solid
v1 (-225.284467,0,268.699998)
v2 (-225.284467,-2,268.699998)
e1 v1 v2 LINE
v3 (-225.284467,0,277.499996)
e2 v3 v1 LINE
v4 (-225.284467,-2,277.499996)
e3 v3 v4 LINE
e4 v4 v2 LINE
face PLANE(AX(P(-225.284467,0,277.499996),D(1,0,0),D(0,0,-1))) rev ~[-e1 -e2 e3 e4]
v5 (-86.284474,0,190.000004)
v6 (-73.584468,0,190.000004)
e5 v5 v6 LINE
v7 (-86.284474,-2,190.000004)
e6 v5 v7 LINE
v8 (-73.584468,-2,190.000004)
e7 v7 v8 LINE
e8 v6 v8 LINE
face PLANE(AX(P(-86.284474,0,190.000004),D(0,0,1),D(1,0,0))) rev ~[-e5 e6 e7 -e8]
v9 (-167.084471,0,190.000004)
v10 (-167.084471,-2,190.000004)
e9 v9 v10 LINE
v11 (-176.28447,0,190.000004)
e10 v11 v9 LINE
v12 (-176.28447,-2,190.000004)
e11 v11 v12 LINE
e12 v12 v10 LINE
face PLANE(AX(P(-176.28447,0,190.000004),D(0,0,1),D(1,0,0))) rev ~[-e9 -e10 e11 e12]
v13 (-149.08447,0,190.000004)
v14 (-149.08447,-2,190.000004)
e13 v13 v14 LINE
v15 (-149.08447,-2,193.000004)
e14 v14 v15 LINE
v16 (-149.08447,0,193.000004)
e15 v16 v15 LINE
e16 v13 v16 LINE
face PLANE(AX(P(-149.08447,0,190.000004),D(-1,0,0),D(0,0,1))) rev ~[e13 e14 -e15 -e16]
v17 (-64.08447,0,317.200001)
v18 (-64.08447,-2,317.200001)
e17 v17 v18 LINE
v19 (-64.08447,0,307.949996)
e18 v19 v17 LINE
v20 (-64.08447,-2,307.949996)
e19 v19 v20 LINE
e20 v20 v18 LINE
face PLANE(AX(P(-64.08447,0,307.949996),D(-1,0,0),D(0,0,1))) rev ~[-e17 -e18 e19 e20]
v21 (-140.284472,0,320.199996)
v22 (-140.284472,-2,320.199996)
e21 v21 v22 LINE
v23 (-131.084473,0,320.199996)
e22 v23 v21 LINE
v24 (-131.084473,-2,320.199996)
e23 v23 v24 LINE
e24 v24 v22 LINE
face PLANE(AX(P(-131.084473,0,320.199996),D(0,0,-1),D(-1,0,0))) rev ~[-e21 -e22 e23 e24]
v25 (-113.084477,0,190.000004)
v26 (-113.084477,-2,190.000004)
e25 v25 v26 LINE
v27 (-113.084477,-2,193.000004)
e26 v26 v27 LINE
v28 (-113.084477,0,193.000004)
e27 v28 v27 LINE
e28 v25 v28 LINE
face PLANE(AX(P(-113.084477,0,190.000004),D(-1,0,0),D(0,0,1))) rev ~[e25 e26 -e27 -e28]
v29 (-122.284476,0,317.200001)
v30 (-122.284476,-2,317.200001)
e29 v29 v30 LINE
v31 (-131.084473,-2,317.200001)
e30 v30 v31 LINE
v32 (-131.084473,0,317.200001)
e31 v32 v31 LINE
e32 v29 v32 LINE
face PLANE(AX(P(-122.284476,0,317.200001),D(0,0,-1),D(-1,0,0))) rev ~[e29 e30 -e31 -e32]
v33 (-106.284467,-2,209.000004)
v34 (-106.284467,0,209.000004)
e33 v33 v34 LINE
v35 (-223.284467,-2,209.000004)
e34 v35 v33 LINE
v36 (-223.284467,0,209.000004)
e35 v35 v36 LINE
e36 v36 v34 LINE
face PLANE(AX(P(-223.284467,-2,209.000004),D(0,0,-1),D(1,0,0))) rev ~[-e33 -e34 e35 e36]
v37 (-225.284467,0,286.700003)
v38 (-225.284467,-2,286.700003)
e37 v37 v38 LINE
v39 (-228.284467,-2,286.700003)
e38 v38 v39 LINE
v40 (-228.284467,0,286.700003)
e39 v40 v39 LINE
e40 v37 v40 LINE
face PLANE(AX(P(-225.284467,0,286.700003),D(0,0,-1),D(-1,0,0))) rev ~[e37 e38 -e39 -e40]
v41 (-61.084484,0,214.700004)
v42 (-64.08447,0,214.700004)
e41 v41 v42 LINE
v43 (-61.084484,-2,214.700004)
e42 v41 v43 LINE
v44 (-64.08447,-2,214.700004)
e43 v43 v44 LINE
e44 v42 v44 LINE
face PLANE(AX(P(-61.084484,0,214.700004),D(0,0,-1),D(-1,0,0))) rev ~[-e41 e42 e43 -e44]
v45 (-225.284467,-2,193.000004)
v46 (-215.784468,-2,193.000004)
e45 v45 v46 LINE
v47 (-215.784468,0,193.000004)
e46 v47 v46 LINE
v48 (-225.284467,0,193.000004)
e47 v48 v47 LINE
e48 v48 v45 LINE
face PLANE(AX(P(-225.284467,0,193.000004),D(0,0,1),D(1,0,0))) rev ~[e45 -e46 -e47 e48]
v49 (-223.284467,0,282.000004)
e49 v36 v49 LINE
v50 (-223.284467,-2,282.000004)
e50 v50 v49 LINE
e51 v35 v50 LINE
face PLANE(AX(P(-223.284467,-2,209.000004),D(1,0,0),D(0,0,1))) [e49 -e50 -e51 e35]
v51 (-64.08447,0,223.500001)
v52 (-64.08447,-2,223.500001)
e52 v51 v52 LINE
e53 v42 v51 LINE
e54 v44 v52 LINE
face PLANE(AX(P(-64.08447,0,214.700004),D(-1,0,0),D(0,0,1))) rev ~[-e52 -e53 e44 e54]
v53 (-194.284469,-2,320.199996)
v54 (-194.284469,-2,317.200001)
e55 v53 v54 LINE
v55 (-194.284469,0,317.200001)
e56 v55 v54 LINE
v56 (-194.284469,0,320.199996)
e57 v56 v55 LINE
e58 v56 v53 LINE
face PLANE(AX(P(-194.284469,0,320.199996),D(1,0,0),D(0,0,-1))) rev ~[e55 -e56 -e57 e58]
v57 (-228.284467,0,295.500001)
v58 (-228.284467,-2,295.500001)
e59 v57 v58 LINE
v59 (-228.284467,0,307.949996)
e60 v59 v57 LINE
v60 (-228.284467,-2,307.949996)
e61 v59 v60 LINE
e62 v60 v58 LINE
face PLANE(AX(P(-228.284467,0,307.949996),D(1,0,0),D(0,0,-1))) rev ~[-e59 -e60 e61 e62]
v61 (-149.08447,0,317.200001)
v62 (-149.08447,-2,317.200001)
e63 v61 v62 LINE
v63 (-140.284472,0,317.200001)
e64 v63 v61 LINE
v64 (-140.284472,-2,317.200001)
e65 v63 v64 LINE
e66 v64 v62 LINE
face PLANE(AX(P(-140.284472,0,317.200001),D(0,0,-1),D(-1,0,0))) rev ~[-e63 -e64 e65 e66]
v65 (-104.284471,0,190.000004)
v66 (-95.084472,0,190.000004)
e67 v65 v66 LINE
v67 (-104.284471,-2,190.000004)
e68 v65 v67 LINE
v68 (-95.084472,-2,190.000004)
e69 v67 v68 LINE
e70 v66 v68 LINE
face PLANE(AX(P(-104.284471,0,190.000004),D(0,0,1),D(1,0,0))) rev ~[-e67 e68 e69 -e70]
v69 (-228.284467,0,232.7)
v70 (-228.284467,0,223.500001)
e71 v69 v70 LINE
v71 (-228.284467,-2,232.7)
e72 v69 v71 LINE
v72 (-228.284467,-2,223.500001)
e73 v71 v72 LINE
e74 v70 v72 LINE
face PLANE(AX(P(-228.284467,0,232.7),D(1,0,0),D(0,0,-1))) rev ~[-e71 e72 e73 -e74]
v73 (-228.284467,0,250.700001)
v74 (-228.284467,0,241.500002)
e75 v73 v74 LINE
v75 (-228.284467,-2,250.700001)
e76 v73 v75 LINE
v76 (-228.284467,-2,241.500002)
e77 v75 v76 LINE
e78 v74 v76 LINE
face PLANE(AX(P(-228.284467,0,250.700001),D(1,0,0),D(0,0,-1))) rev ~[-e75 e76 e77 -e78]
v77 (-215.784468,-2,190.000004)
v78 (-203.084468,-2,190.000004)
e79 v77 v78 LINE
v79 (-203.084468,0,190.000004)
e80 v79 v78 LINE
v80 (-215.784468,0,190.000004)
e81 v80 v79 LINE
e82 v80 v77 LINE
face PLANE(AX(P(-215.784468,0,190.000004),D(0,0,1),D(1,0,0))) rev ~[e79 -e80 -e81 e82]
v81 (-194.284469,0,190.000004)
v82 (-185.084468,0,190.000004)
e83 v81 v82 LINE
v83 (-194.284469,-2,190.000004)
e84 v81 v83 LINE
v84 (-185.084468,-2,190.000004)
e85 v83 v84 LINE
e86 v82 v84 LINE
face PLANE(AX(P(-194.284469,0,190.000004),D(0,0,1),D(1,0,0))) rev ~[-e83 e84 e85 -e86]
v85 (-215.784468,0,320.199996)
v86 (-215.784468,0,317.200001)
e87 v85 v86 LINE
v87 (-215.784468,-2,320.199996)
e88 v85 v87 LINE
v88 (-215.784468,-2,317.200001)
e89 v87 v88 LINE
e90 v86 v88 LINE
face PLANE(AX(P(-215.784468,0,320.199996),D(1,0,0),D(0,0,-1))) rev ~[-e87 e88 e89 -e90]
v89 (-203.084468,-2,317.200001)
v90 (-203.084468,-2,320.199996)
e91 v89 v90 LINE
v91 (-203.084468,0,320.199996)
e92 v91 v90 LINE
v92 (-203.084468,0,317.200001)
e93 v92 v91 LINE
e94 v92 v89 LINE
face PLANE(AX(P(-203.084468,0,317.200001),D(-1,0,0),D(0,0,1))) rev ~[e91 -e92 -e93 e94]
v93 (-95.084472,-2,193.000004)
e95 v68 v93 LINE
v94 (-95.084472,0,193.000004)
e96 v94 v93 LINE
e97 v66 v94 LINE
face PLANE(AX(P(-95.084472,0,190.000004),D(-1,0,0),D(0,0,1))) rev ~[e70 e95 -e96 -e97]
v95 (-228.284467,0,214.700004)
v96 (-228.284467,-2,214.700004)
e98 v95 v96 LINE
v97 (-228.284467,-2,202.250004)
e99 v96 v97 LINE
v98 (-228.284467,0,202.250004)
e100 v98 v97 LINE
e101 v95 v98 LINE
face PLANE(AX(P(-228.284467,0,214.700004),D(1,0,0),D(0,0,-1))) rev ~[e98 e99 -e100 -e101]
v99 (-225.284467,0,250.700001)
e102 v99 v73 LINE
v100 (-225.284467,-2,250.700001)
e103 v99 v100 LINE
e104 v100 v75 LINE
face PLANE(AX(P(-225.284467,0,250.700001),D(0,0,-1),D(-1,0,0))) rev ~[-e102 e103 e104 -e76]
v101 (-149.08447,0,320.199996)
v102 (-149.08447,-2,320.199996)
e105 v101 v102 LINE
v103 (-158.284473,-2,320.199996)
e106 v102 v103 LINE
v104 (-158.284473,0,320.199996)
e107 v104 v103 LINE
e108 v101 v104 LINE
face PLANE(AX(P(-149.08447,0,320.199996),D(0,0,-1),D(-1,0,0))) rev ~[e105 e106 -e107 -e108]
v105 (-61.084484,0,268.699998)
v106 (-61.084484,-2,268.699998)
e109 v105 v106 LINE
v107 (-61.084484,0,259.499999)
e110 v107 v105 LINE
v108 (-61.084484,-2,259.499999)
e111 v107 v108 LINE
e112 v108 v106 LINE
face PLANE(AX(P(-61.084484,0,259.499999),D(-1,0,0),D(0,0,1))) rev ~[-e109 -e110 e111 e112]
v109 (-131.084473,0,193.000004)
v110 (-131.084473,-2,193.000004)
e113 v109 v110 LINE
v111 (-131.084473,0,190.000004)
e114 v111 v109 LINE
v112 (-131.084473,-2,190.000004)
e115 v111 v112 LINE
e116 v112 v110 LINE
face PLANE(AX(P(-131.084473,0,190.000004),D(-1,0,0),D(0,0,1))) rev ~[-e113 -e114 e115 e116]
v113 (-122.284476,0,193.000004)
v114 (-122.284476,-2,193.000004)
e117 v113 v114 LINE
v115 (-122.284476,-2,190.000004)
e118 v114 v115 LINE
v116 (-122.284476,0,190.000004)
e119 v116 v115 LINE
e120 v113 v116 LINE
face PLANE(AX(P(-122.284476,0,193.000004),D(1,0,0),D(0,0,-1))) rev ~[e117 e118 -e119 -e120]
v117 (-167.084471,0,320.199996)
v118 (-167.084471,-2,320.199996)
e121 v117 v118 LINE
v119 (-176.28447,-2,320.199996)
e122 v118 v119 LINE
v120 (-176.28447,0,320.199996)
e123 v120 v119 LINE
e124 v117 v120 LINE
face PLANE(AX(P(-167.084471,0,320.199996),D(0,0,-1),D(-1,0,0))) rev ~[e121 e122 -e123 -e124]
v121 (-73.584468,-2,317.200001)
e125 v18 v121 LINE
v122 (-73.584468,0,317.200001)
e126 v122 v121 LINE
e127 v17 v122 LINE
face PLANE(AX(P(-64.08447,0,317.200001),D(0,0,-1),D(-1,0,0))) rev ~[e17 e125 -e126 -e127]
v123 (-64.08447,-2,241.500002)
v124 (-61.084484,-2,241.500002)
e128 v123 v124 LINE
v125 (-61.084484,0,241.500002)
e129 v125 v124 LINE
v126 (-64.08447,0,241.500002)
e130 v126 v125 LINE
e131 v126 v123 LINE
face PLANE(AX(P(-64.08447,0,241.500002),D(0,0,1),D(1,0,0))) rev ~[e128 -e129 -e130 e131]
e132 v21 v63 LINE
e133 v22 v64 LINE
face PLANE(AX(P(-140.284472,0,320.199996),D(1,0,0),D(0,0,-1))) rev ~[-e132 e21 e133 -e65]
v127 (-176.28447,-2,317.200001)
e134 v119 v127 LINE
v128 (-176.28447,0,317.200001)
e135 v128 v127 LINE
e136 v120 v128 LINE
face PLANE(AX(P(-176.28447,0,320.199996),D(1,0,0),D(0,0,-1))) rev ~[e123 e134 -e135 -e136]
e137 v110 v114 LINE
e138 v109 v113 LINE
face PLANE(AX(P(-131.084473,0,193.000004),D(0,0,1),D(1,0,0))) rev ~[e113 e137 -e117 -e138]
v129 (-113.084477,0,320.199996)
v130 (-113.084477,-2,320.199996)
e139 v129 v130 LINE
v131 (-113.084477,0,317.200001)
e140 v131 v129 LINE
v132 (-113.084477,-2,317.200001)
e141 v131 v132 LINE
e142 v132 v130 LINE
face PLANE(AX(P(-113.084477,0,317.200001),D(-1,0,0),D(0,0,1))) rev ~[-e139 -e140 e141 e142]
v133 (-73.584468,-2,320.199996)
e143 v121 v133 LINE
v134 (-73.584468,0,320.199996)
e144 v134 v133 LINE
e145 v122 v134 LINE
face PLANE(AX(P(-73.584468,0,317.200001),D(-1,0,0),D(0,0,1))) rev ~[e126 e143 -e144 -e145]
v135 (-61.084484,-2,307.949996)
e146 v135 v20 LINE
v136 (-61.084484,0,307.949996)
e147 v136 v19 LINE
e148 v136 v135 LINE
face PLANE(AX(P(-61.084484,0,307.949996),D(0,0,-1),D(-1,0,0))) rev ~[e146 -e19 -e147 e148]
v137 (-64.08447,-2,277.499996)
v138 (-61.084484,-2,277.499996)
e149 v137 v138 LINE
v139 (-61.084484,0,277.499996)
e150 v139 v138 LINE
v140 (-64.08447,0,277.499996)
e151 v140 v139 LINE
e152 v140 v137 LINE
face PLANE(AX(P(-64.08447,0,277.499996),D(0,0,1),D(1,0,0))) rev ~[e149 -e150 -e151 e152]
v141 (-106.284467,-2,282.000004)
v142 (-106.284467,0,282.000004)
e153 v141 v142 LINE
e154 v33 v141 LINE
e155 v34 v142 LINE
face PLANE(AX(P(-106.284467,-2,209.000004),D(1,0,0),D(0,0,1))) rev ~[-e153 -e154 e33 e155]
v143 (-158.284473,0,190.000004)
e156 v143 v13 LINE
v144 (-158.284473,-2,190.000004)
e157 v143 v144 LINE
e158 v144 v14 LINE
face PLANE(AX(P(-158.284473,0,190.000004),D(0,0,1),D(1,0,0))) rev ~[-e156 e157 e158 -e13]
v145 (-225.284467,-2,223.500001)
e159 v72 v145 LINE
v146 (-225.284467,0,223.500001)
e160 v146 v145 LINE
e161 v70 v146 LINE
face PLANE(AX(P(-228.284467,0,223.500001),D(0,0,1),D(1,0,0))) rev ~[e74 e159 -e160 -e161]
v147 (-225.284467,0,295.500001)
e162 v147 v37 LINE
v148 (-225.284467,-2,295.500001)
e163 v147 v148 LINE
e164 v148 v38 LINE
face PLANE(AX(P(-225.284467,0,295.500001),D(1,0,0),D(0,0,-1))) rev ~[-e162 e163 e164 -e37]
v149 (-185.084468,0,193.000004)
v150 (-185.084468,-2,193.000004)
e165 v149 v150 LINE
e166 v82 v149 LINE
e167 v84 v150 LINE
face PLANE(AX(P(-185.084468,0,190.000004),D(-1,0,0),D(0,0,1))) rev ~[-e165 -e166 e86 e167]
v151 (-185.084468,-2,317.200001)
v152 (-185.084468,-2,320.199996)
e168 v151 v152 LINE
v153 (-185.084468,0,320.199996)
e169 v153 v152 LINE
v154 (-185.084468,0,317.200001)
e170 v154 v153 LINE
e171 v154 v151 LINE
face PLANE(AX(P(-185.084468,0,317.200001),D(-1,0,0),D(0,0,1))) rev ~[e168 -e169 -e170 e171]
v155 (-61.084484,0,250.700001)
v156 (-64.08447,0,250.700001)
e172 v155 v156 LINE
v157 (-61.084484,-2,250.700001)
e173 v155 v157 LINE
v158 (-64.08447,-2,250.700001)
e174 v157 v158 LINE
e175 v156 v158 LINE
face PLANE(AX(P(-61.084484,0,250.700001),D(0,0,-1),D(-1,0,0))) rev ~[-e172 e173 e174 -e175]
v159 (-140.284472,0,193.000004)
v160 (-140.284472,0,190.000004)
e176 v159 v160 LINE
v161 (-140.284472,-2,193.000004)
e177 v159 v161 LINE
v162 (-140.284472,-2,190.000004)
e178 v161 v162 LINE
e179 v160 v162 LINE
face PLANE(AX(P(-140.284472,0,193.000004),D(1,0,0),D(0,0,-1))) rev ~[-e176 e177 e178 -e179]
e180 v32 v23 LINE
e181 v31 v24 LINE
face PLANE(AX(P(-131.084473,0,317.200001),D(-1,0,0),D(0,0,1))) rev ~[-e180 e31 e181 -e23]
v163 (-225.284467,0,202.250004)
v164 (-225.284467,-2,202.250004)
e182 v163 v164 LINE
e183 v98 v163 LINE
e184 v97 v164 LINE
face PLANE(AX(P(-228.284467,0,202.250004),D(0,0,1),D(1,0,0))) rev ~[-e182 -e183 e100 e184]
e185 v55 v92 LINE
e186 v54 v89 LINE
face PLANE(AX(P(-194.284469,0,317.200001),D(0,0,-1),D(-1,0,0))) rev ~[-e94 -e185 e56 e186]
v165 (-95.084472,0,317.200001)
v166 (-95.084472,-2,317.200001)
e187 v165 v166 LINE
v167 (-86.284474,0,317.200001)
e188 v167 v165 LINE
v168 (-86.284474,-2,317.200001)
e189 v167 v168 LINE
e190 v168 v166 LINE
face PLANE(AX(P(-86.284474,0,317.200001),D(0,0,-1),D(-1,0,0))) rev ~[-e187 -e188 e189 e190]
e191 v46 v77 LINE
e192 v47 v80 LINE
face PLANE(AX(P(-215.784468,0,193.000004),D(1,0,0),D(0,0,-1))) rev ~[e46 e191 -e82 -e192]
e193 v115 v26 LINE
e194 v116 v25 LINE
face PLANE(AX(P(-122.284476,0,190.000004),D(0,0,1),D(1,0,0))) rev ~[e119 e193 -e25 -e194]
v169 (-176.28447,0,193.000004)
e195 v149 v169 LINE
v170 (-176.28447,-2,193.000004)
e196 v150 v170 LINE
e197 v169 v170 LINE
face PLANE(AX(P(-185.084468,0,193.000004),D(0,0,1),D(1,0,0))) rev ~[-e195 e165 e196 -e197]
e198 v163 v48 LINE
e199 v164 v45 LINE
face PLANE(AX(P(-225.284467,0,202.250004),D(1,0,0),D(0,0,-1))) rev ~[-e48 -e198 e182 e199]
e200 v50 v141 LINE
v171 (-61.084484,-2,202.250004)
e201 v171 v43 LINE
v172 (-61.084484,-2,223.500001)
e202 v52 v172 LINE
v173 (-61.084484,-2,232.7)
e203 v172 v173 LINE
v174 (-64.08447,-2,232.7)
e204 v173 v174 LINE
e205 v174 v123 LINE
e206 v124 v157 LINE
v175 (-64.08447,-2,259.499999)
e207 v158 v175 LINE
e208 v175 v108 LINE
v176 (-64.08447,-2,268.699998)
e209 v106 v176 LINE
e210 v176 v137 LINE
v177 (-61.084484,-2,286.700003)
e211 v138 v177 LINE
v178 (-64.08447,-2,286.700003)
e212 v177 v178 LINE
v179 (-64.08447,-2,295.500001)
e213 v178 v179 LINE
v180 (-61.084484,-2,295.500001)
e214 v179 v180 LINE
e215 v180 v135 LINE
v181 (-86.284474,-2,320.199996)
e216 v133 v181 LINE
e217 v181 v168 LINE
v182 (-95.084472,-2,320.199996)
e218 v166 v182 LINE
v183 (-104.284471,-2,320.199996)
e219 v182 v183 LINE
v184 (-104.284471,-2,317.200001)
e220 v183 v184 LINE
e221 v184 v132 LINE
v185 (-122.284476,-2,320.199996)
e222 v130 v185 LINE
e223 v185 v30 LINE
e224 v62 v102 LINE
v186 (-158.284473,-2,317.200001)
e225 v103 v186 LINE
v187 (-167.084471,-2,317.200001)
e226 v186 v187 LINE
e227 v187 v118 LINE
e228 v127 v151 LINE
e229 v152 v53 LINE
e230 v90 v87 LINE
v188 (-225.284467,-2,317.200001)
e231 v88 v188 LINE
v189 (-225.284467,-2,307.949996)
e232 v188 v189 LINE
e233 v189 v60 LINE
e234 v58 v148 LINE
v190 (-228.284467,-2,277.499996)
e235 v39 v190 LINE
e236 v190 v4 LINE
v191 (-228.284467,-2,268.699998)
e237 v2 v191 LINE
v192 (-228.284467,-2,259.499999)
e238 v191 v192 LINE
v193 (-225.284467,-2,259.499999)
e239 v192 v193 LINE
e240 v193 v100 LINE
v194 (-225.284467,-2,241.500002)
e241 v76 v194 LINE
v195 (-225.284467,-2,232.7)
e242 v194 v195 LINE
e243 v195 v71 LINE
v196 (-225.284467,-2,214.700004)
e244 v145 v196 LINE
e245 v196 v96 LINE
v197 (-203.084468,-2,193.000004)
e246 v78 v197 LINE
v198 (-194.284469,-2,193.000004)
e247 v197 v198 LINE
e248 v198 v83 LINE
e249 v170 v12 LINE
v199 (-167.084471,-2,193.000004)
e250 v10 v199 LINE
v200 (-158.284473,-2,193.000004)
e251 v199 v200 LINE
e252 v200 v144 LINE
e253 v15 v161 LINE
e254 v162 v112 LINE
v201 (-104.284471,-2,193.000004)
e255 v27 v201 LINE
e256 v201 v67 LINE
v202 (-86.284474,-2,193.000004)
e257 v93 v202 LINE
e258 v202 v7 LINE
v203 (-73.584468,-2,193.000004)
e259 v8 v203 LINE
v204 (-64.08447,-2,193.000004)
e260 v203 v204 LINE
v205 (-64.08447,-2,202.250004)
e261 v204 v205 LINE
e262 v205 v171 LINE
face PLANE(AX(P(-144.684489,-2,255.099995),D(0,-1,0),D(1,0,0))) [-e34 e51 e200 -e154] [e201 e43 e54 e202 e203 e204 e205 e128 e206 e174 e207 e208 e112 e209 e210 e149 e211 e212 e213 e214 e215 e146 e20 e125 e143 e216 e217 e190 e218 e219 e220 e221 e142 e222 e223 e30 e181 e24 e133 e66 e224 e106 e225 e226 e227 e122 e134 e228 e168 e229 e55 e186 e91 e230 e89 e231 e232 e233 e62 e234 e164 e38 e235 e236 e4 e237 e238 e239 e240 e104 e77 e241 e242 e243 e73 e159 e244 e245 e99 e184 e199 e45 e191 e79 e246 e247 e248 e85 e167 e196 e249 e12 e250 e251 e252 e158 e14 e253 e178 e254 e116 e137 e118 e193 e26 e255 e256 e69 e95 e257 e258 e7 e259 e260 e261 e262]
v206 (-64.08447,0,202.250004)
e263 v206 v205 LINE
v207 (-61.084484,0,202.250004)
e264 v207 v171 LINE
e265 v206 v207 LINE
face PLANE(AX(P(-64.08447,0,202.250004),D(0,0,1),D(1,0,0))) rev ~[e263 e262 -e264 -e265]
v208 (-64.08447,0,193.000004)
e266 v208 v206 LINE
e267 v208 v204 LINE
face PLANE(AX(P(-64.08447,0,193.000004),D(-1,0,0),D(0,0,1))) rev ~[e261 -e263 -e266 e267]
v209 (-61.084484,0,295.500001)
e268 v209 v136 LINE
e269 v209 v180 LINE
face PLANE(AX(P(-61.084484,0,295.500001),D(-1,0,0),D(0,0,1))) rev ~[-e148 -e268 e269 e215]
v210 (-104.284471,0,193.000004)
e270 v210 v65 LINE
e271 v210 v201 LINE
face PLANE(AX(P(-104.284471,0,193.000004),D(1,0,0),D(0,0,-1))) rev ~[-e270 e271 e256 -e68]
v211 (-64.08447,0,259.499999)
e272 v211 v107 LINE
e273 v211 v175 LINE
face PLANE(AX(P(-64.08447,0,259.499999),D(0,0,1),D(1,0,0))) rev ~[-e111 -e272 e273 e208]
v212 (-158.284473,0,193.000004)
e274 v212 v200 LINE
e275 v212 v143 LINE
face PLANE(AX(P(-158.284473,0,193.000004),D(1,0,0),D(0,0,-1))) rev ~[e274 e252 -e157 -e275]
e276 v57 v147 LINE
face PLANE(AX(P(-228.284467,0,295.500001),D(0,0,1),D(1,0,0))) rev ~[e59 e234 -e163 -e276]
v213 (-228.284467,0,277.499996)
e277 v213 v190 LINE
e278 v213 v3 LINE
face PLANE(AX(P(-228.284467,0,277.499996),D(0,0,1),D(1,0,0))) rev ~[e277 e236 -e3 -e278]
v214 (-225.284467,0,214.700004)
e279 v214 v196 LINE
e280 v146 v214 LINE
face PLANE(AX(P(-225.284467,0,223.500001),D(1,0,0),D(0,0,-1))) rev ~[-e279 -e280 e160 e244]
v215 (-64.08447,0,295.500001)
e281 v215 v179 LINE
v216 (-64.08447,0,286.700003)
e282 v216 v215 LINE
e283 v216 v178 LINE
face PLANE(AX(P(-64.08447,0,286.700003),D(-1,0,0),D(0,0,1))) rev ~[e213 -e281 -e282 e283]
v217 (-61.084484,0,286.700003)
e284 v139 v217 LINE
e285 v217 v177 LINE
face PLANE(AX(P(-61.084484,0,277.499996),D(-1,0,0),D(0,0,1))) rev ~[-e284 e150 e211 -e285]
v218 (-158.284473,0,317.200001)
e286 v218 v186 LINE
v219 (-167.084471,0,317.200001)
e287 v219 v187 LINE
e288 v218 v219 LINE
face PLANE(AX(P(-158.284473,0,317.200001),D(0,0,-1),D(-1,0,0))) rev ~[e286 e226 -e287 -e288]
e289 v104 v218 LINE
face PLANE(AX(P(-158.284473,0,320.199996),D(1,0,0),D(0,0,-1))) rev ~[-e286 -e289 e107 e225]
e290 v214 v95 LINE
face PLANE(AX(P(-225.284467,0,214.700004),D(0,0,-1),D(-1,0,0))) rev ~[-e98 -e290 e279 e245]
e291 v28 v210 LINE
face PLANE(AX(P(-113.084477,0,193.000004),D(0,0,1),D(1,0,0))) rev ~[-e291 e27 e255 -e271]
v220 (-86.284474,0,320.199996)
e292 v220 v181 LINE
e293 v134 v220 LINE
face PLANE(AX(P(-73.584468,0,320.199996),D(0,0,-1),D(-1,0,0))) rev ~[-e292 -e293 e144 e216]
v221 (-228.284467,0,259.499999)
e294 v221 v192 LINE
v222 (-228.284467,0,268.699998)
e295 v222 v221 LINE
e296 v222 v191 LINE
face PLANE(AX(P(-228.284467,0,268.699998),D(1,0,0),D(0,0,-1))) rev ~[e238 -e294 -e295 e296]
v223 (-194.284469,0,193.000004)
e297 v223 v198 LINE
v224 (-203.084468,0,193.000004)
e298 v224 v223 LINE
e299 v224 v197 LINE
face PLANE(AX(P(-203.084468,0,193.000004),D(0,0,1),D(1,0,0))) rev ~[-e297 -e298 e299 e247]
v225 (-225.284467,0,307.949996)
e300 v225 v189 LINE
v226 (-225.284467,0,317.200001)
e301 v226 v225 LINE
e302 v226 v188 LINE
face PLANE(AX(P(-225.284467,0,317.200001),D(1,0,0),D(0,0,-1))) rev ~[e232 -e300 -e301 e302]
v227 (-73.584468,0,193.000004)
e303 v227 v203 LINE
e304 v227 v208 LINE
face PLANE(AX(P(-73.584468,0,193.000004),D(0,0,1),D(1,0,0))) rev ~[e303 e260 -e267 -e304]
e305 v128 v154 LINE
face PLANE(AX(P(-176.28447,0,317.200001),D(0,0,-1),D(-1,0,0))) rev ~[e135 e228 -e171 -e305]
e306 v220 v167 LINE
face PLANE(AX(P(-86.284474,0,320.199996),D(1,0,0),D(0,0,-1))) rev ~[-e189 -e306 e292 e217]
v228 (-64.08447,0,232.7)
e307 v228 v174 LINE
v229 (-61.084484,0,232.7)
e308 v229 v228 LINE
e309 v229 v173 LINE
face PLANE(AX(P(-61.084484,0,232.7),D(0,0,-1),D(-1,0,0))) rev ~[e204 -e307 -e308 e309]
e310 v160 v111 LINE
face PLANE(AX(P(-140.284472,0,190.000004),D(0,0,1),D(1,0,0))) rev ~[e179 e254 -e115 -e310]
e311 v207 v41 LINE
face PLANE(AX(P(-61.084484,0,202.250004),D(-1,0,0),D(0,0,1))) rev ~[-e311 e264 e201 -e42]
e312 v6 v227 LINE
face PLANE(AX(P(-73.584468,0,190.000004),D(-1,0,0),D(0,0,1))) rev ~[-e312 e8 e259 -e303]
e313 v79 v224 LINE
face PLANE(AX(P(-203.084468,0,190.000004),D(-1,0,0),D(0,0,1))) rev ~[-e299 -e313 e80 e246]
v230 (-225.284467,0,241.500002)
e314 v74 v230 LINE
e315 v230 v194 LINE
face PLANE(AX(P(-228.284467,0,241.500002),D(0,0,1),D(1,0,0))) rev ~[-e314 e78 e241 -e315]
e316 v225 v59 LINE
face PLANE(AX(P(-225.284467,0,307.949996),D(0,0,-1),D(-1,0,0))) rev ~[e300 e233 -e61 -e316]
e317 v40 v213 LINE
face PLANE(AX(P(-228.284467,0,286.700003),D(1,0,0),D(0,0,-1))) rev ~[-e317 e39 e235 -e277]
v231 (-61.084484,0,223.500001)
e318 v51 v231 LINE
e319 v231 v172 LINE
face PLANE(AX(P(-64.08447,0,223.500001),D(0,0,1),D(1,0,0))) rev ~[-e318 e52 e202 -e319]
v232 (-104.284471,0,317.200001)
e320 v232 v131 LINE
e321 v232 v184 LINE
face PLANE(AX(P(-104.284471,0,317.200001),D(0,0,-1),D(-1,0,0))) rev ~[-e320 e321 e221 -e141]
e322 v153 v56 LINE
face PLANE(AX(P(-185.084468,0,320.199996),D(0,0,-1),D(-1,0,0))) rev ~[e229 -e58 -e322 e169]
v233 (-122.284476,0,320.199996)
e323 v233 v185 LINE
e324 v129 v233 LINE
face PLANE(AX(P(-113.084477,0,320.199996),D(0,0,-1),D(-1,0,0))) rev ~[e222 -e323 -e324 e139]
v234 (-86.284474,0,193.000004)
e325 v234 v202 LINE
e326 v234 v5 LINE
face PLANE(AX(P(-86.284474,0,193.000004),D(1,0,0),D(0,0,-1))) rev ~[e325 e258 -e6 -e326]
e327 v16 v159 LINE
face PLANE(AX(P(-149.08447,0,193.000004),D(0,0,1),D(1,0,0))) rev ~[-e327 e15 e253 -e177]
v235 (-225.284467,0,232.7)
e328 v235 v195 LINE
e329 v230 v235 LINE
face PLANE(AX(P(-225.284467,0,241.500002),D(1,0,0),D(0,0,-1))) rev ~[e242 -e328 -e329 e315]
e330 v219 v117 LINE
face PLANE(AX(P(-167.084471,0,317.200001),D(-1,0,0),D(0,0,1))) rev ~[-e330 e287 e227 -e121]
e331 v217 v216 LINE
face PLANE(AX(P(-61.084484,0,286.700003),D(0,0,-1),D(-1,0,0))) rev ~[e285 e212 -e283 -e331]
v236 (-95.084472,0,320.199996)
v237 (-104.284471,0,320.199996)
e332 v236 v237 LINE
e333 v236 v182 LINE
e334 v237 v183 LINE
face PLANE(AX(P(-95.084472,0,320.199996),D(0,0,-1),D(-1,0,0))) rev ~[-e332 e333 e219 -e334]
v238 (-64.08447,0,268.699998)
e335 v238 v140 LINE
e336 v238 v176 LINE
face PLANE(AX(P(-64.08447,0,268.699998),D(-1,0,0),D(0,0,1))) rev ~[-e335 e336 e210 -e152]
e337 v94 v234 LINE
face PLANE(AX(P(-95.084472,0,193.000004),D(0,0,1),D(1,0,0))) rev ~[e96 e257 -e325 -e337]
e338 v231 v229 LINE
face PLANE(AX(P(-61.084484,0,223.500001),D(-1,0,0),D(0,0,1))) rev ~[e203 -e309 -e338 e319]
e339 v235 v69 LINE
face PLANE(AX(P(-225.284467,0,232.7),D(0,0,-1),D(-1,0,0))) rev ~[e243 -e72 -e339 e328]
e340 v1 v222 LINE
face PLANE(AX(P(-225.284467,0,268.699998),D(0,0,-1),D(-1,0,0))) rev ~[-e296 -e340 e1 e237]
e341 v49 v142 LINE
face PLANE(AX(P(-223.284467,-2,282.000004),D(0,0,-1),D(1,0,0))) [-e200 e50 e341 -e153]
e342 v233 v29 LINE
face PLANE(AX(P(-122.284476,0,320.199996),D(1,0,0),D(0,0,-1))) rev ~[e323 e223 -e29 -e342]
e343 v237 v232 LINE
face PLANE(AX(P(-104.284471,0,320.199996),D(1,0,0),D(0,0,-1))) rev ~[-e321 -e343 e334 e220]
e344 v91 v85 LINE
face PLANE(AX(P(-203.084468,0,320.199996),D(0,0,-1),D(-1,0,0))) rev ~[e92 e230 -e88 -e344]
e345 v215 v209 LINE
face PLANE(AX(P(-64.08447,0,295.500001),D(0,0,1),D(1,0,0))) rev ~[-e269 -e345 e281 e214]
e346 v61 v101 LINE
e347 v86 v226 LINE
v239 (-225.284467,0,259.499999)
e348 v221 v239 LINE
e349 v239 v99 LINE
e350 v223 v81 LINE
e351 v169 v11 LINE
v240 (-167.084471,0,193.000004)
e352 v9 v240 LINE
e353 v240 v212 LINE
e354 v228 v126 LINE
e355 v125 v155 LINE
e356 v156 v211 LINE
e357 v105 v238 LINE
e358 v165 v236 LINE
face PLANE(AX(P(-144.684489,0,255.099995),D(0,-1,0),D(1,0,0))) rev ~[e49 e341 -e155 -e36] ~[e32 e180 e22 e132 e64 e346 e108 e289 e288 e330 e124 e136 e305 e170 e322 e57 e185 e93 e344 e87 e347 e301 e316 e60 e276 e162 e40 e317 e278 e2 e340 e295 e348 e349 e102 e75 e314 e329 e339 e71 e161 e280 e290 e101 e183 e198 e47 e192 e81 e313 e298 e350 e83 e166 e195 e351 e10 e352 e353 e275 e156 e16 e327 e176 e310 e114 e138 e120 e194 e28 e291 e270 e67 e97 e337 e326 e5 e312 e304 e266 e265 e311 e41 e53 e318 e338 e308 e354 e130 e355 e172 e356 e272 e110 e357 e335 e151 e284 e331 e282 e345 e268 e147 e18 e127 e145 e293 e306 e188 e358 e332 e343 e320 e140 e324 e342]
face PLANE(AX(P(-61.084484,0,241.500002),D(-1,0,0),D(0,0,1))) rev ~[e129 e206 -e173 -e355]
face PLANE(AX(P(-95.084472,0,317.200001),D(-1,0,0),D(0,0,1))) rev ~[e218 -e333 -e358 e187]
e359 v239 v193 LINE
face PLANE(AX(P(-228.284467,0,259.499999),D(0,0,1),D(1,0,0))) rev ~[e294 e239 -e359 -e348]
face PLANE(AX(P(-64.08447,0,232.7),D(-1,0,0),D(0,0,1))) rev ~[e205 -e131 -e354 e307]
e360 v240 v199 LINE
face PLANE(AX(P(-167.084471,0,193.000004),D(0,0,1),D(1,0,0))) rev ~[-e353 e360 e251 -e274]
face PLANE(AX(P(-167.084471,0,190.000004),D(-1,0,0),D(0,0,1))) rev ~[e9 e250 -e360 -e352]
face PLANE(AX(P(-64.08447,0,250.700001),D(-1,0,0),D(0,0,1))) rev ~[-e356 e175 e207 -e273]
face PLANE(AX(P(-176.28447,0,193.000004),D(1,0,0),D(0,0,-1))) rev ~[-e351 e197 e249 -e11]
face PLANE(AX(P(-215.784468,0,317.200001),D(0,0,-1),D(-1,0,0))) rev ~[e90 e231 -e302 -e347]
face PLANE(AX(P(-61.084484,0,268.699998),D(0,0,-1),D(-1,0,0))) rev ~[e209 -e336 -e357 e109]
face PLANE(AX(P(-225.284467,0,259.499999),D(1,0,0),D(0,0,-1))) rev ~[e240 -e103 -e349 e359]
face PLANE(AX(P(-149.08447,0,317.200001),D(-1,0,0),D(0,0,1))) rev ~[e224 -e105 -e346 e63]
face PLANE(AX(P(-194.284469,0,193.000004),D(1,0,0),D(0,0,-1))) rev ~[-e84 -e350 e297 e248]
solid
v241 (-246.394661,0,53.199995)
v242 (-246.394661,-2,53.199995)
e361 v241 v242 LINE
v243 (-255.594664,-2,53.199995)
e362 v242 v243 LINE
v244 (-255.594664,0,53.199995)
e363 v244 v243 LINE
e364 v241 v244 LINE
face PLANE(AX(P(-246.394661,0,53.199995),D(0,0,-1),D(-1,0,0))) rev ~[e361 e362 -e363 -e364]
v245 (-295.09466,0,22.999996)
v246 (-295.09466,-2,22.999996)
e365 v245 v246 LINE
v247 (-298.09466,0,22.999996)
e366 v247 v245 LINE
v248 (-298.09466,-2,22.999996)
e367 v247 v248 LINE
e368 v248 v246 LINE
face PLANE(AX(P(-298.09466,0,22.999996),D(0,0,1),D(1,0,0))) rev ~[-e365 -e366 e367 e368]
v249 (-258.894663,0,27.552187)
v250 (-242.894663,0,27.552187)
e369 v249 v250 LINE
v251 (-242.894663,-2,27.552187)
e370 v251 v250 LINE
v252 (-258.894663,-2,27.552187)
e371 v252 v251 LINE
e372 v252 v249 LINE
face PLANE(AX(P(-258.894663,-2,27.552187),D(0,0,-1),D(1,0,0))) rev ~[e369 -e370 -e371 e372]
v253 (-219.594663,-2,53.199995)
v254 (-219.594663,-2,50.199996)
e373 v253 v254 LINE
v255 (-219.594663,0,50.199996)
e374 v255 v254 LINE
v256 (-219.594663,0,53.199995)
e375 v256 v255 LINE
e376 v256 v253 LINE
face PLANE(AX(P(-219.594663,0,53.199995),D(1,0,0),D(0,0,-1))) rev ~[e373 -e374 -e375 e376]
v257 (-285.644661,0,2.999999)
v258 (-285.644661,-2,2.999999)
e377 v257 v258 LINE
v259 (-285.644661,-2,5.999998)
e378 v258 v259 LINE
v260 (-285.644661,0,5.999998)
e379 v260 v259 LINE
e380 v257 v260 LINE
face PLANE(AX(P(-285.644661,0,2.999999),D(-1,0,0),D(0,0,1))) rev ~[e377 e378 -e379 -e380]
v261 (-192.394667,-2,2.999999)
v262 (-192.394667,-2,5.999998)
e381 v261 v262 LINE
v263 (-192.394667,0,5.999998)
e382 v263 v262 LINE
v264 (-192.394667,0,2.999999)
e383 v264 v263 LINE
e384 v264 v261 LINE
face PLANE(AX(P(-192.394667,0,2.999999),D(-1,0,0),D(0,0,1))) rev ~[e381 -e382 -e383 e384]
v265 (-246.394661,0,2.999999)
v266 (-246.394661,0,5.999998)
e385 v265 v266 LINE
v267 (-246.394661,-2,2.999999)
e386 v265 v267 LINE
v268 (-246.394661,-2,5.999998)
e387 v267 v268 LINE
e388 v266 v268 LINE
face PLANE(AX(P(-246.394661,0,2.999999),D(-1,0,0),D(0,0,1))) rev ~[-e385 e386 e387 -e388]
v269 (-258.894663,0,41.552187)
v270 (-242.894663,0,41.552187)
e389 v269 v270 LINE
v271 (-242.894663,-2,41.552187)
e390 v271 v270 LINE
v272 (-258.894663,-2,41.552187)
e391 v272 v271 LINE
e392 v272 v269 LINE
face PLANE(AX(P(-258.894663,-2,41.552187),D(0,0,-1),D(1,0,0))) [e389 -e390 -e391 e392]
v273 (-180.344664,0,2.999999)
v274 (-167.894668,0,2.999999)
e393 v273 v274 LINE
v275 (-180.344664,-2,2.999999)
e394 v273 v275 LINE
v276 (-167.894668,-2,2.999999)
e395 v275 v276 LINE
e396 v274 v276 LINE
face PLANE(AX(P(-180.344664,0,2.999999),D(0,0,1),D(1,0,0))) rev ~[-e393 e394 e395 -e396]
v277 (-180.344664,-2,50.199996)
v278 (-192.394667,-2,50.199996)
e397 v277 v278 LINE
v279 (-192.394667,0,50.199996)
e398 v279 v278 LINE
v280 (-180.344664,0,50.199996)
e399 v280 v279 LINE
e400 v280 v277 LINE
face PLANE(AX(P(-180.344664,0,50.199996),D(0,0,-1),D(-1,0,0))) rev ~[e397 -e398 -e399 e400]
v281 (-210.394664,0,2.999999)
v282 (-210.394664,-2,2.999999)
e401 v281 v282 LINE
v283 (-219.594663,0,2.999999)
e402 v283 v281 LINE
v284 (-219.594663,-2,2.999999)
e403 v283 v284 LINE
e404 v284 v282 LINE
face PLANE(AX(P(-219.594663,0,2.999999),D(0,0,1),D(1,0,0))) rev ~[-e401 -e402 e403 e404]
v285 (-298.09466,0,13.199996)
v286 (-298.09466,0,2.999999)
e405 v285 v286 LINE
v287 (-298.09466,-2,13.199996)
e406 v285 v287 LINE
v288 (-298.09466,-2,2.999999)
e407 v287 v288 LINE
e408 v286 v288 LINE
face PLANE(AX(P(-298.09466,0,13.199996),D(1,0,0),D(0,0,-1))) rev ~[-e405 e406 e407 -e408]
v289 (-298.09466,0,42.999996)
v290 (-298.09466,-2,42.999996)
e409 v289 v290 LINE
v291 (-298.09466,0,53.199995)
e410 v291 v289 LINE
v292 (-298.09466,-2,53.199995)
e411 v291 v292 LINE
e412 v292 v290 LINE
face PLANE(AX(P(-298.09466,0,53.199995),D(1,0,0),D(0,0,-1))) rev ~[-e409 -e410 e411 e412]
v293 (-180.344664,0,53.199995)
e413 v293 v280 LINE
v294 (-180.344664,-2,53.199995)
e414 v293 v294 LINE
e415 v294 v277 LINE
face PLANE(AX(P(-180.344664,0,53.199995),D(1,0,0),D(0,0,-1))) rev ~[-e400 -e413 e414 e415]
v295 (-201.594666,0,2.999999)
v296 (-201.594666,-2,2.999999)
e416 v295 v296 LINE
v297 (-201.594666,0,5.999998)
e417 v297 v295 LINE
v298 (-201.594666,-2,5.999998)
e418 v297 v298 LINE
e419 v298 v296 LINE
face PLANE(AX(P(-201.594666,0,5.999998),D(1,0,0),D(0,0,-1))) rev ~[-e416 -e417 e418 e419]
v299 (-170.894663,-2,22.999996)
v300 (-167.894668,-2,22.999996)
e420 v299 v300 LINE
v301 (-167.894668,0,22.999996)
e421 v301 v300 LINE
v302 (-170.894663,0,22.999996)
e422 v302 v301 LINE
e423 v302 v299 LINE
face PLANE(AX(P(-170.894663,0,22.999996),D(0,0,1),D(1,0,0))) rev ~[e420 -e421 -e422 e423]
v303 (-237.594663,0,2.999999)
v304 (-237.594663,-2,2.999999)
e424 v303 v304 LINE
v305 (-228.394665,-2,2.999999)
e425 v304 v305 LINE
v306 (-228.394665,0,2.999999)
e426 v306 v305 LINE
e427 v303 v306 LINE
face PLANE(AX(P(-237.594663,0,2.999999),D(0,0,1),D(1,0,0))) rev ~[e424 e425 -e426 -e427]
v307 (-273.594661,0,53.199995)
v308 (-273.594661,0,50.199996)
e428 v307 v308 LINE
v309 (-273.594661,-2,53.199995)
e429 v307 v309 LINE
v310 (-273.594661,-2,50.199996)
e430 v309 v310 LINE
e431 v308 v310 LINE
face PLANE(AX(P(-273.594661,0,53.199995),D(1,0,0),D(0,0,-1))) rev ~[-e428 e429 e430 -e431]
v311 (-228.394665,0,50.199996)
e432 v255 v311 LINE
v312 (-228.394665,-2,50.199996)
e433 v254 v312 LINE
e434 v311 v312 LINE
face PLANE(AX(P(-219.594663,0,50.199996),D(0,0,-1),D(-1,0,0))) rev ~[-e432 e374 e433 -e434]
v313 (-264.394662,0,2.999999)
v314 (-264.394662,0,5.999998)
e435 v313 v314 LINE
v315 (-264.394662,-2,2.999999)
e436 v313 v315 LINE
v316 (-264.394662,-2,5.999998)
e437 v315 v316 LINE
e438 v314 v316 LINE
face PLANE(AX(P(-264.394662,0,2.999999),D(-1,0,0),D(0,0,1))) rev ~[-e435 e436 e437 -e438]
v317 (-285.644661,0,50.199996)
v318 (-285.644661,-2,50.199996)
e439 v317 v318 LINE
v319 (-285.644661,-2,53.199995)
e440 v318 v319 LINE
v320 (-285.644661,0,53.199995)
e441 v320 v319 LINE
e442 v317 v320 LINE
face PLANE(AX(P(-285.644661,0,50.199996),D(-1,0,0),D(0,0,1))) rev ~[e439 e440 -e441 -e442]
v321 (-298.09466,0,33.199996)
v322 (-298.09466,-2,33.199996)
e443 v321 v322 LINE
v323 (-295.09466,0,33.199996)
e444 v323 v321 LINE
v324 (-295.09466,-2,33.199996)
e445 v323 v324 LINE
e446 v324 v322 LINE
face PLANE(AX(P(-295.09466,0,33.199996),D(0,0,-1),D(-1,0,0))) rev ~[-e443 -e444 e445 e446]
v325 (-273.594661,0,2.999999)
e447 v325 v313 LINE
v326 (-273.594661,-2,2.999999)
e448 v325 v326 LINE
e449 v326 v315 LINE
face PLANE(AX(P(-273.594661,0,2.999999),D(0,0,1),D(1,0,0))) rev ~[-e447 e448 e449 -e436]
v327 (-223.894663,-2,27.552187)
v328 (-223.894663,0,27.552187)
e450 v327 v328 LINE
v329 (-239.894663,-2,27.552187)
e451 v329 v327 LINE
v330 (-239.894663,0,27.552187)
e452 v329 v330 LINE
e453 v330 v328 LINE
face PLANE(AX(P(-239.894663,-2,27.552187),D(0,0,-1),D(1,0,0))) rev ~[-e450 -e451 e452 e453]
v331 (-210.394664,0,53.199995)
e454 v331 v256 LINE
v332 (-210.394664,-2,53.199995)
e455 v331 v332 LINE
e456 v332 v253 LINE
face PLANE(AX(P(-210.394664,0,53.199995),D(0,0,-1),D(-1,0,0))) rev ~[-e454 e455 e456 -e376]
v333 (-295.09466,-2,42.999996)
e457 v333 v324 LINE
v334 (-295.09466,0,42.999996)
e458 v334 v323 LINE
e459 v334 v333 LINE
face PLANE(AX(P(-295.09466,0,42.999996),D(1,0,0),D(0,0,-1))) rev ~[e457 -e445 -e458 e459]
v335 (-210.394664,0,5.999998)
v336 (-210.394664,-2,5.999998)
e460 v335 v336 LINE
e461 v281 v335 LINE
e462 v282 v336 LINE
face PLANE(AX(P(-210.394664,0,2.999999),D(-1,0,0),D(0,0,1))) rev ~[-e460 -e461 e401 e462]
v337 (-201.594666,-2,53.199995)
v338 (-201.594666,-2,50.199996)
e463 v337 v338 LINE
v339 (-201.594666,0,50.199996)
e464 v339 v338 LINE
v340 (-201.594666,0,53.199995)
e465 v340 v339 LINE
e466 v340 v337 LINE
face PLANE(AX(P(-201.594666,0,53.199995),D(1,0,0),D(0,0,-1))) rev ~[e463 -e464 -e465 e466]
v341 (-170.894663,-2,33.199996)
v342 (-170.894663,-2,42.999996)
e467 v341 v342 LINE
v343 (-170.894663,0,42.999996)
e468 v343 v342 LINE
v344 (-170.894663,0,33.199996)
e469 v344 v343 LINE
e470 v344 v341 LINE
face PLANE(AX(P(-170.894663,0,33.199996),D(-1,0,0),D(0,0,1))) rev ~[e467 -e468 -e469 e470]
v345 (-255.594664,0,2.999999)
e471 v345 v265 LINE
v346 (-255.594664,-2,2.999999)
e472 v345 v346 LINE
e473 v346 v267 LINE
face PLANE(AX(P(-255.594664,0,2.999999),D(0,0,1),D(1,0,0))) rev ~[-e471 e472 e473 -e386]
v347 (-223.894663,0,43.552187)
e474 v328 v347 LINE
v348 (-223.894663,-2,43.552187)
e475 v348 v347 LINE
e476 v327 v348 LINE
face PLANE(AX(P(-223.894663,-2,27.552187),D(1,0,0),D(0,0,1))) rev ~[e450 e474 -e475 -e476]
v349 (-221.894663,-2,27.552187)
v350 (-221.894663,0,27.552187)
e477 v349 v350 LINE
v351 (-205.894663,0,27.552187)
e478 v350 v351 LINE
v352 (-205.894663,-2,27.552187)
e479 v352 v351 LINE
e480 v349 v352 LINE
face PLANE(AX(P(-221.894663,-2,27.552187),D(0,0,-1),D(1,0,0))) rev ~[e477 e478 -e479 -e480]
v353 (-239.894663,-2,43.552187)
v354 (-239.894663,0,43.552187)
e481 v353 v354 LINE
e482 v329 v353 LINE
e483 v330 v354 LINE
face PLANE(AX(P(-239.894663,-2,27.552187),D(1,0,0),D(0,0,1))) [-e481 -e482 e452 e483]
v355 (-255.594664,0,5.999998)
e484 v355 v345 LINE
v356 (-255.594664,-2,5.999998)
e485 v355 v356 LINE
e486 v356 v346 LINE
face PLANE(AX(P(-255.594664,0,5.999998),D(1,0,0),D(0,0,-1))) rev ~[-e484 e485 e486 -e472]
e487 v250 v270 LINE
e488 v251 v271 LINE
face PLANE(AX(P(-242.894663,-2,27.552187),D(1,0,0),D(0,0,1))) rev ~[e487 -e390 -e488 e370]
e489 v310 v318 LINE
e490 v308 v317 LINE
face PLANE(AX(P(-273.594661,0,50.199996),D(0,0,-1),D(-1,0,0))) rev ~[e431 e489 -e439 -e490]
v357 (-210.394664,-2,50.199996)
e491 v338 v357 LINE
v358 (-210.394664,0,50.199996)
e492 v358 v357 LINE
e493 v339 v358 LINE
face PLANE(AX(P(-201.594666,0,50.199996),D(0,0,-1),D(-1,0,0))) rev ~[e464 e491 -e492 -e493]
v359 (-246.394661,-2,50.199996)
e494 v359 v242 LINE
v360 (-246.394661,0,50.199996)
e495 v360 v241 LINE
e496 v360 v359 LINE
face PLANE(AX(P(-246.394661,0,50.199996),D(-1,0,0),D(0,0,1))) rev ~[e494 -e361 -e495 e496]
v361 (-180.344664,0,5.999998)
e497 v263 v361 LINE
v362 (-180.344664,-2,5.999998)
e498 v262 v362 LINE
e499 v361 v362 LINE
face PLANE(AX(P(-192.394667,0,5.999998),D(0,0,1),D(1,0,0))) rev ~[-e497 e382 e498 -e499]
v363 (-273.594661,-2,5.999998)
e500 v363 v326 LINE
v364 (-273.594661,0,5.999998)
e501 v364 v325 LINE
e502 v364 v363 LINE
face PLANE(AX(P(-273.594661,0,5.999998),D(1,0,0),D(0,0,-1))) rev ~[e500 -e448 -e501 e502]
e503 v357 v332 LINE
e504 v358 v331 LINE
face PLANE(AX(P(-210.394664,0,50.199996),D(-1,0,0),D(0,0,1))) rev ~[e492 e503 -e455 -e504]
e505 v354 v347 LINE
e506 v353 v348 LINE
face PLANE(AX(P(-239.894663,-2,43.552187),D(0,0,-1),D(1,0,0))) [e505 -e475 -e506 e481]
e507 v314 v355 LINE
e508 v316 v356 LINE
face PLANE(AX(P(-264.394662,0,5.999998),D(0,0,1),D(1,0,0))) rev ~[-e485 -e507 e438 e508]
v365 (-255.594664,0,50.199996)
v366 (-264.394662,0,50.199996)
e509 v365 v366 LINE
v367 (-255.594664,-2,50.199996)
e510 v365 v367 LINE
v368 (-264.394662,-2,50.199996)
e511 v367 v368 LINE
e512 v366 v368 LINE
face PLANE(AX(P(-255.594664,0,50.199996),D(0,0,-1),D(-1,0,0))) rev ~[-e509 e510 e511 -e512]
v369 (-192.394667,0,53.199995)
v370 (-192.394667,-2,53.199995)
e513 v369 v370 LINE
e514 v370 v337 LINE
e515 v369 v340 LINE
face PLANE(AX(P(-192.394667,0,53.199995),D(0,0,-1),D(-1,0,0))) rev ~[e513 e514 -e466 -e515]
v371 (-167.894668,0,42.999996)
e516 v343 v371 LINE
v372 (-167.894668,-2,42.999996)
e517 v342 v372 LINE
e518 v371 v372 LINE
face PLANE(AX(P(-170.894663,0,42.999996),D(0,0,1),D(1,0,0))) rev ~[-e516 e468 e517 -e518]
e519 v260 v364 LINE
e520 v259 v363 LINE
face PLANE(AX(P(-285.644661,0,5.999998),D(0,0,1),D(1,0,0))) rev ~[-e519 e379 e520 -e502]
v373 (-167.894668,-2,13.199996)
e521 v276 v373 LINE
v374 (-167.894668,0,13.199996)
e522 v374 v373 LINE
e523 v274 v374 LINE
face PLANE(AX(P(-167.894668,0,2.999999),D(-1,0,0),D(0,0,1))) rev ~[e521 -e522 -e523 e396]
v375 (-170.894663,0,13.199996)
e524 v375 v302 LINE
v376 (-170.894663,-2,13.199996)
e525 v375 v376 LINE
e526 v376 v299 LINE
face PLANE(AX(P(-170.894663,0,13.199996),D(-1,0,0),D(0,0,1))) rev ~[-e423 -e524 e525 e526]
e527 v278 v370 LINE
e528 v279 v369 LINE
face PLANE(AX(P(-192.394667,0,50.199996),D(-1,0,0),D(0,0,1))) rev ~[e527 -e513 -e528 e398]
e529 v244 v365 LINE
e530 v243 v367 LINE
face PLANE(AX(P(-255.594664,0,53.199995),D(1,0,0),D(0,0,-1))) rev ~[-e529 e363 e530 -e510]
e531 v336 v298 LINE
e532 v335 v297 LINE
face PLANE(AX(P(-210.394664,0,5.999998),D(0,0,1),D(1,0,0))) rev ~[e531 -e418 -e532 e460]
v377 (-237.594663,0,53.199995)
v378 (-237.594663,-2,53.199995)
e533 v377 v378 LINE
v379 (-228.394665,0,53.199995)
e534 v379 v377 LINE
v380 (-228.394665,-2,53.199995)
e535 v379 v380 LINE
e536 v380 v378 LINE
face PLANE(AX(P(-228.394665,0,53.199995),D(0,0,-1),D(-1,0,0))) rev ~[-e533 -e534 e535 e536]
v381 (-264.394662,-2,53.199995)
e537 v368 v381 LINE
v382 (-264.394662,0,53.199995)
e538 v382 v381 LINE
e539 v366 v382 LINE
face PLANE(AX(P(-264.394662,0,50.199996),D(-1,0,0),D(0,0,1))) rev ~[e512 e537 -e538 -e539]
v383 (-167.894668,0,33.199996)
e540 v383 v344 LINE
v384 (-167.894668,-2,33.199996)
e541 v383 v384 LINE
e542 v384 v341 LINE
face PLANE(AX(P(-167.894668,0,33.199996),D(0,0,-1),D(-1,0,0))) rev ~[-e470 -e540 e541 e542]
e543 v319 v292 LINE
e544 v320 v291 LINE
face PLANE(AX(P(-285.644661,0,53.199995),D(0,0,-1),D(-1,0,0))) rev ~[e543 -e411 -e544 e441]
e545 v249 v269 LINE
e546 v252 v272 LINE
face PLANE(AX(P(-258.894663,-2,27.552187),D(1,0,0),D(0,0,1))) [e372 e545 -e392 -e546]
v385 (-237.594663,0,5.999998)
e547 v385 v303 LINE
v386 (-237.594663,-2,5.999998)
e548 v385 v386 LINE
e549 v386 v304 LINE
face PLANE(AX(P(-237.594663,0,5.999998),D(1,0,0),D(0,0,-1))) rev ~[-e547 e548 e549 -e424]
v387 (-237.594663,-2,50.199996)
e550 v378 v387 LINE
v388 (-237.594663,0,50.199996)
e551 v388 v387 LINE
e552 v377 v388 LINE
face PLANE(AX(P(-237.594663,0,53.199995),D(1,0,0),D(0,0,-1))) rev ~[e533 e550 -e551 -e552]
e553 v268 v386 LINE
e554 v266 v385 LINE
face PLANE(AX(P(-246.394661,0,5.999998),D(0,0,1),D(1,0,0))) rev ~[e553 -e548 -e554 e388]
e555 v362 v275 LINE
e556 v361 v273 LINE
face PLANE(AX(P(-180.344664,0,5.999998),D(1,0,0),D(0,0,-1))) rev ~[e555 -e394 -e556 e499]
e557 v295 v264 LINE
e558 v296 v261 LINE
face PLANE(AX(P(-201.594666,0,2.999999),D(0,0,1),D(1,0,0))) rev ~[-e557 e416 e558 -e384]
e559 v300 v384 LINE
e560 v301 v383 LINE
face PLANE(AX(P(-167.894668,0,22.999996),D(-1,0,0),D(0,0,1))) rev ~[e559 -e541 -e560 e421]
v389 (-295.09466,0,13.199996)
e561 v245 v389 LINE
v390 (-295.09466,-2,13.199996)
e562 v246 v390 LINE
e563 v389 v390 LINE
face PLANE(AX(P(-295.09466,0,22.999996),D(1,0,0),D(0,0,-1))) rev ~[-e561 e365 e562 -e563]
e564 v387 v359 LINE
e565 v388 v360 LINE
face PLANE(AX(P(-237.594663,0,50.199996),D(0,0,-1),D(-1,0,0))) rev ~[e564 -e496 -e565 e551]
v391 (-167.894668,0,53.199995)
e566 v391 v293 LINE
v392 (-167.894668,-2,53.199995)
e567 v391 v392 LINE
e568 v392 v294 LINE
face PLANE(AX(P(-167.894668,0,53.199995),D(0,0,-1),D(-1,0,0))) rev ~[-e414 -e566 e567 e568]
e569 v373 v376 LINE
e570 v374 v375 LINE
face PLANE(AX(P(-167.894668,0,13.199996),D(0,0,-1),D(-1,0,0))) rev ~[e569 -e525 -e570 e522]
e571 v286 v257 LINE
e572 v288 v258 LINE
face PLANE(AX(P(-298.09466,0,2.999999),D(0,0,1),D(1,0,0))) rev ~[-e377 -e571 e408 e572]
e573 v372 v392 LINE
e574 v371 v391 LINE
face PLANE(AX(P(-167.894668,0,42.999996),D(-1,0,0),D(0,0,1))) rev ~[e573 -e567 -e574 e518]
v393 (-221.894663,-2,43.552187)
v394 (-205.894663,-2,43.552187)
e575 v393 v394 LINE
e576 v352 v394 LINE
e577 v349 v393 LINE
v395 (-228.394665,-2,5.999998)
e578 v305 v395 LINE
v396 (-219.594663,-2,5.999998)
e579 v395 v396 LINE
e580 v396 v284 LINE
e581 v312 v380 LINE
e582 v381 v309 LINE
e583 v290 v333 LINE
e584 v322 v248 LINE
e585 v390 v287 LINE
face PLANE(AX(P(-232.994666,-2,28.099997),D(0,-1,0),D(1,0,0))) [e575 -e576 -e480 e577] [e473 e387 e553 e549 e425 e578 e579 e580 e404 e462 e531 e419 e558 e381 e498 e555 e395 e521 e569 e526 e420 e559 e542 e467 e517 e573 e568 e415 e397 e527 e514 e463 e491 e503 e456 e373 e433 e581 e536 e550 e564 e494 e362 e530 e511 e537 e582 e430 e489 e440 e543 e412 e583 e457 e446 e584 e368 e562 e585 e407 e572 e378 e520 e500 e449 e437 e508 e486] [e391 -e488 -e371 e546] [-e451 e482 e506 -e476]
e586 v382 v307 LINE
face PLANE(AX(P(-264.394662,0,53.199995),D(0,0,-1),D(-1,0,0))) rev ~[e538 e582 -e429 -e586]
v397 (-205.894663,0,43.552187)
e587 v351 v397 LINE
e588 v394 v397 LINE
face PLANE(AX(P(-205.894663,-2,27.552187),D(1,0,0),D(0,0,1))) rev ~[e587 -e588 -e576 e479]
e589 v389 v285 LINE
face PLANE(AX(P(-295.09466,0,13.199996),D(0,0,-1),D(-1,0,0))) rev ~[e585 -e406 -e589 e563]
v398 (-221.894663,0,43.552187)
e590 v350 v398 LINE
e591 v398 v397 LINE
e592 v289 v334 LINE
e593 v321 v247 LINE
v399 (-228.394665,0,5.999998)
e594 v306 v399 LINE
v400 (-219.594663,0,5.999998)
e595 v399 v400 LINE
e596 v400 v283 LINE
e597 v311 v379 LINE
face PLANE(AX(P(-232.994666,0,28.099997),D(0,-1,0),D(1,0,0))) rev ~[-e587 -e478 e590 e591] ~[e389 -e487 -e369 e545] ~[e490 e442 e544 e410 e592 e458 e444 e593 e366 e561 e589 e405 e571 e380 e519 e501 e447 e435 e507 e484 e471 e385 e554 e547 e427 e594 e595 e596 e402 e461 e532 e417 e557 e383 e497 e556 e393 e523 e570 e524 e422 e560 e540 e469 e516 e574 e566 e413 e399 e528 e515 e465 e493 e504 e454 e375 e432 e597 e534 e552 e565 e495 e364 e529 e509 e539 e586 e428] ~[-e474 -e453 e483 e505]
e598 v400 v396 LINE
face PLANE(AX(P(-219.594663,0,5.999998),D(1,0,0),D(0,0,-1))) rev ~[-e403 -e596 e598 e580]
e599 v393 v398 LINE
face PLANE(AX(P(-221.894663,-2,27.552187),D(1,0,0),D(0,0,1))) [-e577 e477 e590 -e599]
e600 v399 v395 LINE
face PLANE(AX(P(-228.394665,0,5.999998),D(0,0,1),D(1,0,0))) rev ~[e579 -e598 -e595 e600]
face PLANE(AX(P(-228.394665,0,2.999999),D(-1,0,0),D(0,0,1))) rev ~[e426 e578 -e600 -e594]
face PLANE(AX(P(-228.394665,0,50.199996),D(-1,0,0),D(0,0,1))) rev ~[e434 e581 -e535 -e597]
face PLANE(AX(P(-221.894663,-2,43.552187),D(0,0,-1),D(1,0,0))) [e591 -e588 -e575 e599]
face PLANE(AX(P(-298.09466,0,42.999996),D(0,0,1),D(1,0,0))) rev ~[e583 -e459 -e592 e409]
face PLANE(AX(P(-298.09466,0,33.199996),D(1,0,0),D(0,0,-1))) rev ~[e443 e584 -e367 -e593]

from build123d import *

# Parameters (mm, degrees)
F1_DEPTH = 2
F3_DEPTH = 2
F4_W     = 117
F4_H     = 73
F5_DEPTH = 3
F2_W     = 16
F2_H     = 16
F2_H_2   = 14
F6_DEPTH = 3


with BuildPart() as f1:
    # F0 (on Front) → F1 (new body)
    with BuildSketch(Plane.XZ):
        Polygon((-285.644661, 53.199995), (-298.09466, 53.199995), (-298.09466, 42.999996), (-295.09466, 42.999996), (-295.09466, 33.199996), (-298.09466, 33.199996), (-298.09466, 22.999996), (-295.09466, 22.999996), (-295.09466, 13.199996), (-298.09466, 13.199996), (-298.09466, 2.999999), (-285.644661, 2.999999), (-285.644661, 5.999998), (-273.594661, 5.999998), (-273.594661, 2.999999), (-264.394662, 2.999999), (-264.394662, 5.999998), (-255.594664, 5.999998), (-255.594664, 2.999999), (-246.394661, 2.999999), (-246.394661, 5.999998), (-237.594663, 5.999998), (-237.594663, 2.999999), (-228.394665, 2.999999), (-228.394665, 5.999998), (-219.594663, 5.999998), (-219.594663, 2.999999), (-210.394664, 2.999999), (-210.394664, 5.999998), (-201.594666, 5.999998), (-201.594666, 2.999999), (-192.394667, 2.999999), (-192.394667, 5.999998), (-180.344664, 5.999998), (-180.344664, 2.999999), (-167.894668, 2.999999), (-167.894668, 13.199996), (-170.894663, 13.199996), (-170.894663, 22.999996), (-167.894668, 22.999996), (-167.894668, 33.199996), (-170.894663, 33.199996), (-170.894663, 42.999996), (-167.894668, 42.999996), (-167.894668, 53.199995), (-180.344664, 53.199995), (-180.344664, 50.199996), (-192.394667, 50.199996), (-192.394667, 53.199995), (-201.594666, 53.199995), (-201.594666, 50.199996), (-210.394664, 50.199996), (-210.394664, 53.199995), (-219.594663, 53.199995), (-219.594663, 50.199996), (-228.394665, 50.199996), (-228.394665, 53.199995), (-237.594663, 53.199995), (-237.594663, 50.199996), (-246.394661, 50.199996), (-246.394661, 53.199995), (-255.594664, 53.199995), (-255.594664, 50.199996), (-264.394662, 50.199996), (-264.394662, 53.199995), (-273.594661, 53.199995), (-273.594661, 50.199996), (-285.644661, 50.199996), align=None)
    extrude(amount=F1_DEPTH)

    # F2 (on face) → F6 (cut)
    with BuildSketch(Plane.XZ.offset(2)):
        with Locations((-213.894663, 35.552187)):
            Rectangle(F2_W, F2_H)
        with Locations((-231.894663, 35.552187)):
            Rectangle(F2_W, F2_H)
        with Locations((-250.894663, 34.552187)):
            Rectangle(F2_W, F2_H_2)
    extrude(amount=-F6_DEPTH, mode=Mode.SUBTRACT)


with BuildPart() as f3:
    # F0 (on Front) → F3 (new body)
    with BuildSketch(Plane.XZ):
        Polygon((-225.284467, 202.250004), (-225.284467, 193.000004), (-215.784468, 193.000004), (-215.784468, 190.000004), (-203.084468, 190.000004), (-203.084468, 193.000004), (-194.284469, 193.000004), (-194.284469, 190.000004), (-185.084468, 190.000004), (-185.084468, 193.000004), (-176.28447, 193.000004), (-176.28447, 190.000004), (-167.084471, 190.000004), (-167.084471, 193.000004), (-158.284473, 193.000004), (-158.284473, 190.000004), (-149.08447, 190.000004), (-149.08447, 193.000004), (-140.284472, 193.000004), (-140.284472, 190.000004), (-131.084473, 190.000004), (-131.084473, 193.000004), (-122.284476, 193.000004), (-122.284476, 190.000004), (-113.084477, 190.000004), (-113.084477, 193.000004), (-104.284471, 193.000004), (-104.284471, 190.000004), (-95.084472, 190.000004), (-95.084472, 193.000004), (-86.284474, 193.000004), (-86.284474, 190.000004), (-73.584468, 190.000004), (-73.584468, 193.000004), (-64.08447, 193.000004), (-64.08447, 202.250004), (-61.084484, 202.250004), (-61.084484, 214.700004), (-64.08447, 214.700004), (-64.08447, 223.500001), (-61.084484, 223.500001), (-61.084484, 232.7), (-64.08447, 232.7), (-64.08447, 241.500002), (-61.084484, 241.500002), (-61.084484, 250.700001), (-64.08447, 250.700001), (-64.08447, 259.499999), (-61.084484, 259.499999), (-61.084484, 268.699998), (-64.08447, 268.699998), (-64.08447, 277.499996), (-61.084484, 277.499996), (-61.084484, 286.700003), (-64.08447, 286.700003), (-64.08447, 295.500001), (-61.084484, 295.500001), (-61.084484, 307.949996), (-64.08447, 307.949996), (-64.08447, 317.200001), (-73.584468, 317.200001), (-73.584468, 320.199996), (-86.284474, 320.199996), (-86.284474, 317.200001), (-95.084472, 317.200001), (-95.084472, 320.199996), (-104.284471, 320.199996), (-104.284471, 317.200001), (-113.084477, 317.200001), (-113.084477, 320.199996), (-122.284476, 320.199996), (-122.284476, 317.200001), (-131.084473, 317.200001), (-131.084473, 320.199996), (-140.284472, 320.199996), (-140.284472, 317.200001), (-149.08447, 317.200001), (-149.08447, 320.199996), (-158.284473, 320.199996), (-158.284473, 317.200001), (-167.084471, 317.200001), (-167.084471, 320.199996), (-176.28447, 320.199996), (-176.28447, 317.200001), (-185.084468, 317.200001), (-185.084468, 320.199996), (-194.284469, 320.199996), (-194.284469, 317.200001), (-203.084468, 317.200001), (-203.084468, 320.199996), (-215.784468, 320.199996), (-215.784468, 317.200001), (-225.284467, 317.200001), (-225.284467, 307.949996), (-228.284467, 307.949996), (-228.284467, 295.500001), (-225.284467, 295.500001), (-225.284467, 286.700003), (-228.284467, 286.700003), (-228.284467, 277.499996), (-225.284467, 277.499996), (-225.284467, 268.699998), (-228.284467, 268.699998), (-228.284467, 259.499999), (-225.284467, 259.499999), (-225.284467, 250.700001), (-228.284467, 250.700001), (-228.284467, 241.500002), (-225.284467, 241.500002), (-225.284467, 232.7), (-228.284467, 232.7), (-228.284467, 223.500001), (-225.284467, 223.500001), (-225.284467, 214.700004), (-228.284467, 214.700004), (-228.284467, 202.250004), align=None)
    extrude(amount=F3_DEPTH)

    # F4 (on face) → F5 (cut)
    with BuildSketch(Plane.XZ.offset(2)):
        with Locations((-164.784467, 245.500004)):
            Rectangle(F4_W, F4_H)
    extrude(amount=-F5_DEPTH, mode=Mode.SUBTRACT)


solid = Compound([f1.part, f3.part])
